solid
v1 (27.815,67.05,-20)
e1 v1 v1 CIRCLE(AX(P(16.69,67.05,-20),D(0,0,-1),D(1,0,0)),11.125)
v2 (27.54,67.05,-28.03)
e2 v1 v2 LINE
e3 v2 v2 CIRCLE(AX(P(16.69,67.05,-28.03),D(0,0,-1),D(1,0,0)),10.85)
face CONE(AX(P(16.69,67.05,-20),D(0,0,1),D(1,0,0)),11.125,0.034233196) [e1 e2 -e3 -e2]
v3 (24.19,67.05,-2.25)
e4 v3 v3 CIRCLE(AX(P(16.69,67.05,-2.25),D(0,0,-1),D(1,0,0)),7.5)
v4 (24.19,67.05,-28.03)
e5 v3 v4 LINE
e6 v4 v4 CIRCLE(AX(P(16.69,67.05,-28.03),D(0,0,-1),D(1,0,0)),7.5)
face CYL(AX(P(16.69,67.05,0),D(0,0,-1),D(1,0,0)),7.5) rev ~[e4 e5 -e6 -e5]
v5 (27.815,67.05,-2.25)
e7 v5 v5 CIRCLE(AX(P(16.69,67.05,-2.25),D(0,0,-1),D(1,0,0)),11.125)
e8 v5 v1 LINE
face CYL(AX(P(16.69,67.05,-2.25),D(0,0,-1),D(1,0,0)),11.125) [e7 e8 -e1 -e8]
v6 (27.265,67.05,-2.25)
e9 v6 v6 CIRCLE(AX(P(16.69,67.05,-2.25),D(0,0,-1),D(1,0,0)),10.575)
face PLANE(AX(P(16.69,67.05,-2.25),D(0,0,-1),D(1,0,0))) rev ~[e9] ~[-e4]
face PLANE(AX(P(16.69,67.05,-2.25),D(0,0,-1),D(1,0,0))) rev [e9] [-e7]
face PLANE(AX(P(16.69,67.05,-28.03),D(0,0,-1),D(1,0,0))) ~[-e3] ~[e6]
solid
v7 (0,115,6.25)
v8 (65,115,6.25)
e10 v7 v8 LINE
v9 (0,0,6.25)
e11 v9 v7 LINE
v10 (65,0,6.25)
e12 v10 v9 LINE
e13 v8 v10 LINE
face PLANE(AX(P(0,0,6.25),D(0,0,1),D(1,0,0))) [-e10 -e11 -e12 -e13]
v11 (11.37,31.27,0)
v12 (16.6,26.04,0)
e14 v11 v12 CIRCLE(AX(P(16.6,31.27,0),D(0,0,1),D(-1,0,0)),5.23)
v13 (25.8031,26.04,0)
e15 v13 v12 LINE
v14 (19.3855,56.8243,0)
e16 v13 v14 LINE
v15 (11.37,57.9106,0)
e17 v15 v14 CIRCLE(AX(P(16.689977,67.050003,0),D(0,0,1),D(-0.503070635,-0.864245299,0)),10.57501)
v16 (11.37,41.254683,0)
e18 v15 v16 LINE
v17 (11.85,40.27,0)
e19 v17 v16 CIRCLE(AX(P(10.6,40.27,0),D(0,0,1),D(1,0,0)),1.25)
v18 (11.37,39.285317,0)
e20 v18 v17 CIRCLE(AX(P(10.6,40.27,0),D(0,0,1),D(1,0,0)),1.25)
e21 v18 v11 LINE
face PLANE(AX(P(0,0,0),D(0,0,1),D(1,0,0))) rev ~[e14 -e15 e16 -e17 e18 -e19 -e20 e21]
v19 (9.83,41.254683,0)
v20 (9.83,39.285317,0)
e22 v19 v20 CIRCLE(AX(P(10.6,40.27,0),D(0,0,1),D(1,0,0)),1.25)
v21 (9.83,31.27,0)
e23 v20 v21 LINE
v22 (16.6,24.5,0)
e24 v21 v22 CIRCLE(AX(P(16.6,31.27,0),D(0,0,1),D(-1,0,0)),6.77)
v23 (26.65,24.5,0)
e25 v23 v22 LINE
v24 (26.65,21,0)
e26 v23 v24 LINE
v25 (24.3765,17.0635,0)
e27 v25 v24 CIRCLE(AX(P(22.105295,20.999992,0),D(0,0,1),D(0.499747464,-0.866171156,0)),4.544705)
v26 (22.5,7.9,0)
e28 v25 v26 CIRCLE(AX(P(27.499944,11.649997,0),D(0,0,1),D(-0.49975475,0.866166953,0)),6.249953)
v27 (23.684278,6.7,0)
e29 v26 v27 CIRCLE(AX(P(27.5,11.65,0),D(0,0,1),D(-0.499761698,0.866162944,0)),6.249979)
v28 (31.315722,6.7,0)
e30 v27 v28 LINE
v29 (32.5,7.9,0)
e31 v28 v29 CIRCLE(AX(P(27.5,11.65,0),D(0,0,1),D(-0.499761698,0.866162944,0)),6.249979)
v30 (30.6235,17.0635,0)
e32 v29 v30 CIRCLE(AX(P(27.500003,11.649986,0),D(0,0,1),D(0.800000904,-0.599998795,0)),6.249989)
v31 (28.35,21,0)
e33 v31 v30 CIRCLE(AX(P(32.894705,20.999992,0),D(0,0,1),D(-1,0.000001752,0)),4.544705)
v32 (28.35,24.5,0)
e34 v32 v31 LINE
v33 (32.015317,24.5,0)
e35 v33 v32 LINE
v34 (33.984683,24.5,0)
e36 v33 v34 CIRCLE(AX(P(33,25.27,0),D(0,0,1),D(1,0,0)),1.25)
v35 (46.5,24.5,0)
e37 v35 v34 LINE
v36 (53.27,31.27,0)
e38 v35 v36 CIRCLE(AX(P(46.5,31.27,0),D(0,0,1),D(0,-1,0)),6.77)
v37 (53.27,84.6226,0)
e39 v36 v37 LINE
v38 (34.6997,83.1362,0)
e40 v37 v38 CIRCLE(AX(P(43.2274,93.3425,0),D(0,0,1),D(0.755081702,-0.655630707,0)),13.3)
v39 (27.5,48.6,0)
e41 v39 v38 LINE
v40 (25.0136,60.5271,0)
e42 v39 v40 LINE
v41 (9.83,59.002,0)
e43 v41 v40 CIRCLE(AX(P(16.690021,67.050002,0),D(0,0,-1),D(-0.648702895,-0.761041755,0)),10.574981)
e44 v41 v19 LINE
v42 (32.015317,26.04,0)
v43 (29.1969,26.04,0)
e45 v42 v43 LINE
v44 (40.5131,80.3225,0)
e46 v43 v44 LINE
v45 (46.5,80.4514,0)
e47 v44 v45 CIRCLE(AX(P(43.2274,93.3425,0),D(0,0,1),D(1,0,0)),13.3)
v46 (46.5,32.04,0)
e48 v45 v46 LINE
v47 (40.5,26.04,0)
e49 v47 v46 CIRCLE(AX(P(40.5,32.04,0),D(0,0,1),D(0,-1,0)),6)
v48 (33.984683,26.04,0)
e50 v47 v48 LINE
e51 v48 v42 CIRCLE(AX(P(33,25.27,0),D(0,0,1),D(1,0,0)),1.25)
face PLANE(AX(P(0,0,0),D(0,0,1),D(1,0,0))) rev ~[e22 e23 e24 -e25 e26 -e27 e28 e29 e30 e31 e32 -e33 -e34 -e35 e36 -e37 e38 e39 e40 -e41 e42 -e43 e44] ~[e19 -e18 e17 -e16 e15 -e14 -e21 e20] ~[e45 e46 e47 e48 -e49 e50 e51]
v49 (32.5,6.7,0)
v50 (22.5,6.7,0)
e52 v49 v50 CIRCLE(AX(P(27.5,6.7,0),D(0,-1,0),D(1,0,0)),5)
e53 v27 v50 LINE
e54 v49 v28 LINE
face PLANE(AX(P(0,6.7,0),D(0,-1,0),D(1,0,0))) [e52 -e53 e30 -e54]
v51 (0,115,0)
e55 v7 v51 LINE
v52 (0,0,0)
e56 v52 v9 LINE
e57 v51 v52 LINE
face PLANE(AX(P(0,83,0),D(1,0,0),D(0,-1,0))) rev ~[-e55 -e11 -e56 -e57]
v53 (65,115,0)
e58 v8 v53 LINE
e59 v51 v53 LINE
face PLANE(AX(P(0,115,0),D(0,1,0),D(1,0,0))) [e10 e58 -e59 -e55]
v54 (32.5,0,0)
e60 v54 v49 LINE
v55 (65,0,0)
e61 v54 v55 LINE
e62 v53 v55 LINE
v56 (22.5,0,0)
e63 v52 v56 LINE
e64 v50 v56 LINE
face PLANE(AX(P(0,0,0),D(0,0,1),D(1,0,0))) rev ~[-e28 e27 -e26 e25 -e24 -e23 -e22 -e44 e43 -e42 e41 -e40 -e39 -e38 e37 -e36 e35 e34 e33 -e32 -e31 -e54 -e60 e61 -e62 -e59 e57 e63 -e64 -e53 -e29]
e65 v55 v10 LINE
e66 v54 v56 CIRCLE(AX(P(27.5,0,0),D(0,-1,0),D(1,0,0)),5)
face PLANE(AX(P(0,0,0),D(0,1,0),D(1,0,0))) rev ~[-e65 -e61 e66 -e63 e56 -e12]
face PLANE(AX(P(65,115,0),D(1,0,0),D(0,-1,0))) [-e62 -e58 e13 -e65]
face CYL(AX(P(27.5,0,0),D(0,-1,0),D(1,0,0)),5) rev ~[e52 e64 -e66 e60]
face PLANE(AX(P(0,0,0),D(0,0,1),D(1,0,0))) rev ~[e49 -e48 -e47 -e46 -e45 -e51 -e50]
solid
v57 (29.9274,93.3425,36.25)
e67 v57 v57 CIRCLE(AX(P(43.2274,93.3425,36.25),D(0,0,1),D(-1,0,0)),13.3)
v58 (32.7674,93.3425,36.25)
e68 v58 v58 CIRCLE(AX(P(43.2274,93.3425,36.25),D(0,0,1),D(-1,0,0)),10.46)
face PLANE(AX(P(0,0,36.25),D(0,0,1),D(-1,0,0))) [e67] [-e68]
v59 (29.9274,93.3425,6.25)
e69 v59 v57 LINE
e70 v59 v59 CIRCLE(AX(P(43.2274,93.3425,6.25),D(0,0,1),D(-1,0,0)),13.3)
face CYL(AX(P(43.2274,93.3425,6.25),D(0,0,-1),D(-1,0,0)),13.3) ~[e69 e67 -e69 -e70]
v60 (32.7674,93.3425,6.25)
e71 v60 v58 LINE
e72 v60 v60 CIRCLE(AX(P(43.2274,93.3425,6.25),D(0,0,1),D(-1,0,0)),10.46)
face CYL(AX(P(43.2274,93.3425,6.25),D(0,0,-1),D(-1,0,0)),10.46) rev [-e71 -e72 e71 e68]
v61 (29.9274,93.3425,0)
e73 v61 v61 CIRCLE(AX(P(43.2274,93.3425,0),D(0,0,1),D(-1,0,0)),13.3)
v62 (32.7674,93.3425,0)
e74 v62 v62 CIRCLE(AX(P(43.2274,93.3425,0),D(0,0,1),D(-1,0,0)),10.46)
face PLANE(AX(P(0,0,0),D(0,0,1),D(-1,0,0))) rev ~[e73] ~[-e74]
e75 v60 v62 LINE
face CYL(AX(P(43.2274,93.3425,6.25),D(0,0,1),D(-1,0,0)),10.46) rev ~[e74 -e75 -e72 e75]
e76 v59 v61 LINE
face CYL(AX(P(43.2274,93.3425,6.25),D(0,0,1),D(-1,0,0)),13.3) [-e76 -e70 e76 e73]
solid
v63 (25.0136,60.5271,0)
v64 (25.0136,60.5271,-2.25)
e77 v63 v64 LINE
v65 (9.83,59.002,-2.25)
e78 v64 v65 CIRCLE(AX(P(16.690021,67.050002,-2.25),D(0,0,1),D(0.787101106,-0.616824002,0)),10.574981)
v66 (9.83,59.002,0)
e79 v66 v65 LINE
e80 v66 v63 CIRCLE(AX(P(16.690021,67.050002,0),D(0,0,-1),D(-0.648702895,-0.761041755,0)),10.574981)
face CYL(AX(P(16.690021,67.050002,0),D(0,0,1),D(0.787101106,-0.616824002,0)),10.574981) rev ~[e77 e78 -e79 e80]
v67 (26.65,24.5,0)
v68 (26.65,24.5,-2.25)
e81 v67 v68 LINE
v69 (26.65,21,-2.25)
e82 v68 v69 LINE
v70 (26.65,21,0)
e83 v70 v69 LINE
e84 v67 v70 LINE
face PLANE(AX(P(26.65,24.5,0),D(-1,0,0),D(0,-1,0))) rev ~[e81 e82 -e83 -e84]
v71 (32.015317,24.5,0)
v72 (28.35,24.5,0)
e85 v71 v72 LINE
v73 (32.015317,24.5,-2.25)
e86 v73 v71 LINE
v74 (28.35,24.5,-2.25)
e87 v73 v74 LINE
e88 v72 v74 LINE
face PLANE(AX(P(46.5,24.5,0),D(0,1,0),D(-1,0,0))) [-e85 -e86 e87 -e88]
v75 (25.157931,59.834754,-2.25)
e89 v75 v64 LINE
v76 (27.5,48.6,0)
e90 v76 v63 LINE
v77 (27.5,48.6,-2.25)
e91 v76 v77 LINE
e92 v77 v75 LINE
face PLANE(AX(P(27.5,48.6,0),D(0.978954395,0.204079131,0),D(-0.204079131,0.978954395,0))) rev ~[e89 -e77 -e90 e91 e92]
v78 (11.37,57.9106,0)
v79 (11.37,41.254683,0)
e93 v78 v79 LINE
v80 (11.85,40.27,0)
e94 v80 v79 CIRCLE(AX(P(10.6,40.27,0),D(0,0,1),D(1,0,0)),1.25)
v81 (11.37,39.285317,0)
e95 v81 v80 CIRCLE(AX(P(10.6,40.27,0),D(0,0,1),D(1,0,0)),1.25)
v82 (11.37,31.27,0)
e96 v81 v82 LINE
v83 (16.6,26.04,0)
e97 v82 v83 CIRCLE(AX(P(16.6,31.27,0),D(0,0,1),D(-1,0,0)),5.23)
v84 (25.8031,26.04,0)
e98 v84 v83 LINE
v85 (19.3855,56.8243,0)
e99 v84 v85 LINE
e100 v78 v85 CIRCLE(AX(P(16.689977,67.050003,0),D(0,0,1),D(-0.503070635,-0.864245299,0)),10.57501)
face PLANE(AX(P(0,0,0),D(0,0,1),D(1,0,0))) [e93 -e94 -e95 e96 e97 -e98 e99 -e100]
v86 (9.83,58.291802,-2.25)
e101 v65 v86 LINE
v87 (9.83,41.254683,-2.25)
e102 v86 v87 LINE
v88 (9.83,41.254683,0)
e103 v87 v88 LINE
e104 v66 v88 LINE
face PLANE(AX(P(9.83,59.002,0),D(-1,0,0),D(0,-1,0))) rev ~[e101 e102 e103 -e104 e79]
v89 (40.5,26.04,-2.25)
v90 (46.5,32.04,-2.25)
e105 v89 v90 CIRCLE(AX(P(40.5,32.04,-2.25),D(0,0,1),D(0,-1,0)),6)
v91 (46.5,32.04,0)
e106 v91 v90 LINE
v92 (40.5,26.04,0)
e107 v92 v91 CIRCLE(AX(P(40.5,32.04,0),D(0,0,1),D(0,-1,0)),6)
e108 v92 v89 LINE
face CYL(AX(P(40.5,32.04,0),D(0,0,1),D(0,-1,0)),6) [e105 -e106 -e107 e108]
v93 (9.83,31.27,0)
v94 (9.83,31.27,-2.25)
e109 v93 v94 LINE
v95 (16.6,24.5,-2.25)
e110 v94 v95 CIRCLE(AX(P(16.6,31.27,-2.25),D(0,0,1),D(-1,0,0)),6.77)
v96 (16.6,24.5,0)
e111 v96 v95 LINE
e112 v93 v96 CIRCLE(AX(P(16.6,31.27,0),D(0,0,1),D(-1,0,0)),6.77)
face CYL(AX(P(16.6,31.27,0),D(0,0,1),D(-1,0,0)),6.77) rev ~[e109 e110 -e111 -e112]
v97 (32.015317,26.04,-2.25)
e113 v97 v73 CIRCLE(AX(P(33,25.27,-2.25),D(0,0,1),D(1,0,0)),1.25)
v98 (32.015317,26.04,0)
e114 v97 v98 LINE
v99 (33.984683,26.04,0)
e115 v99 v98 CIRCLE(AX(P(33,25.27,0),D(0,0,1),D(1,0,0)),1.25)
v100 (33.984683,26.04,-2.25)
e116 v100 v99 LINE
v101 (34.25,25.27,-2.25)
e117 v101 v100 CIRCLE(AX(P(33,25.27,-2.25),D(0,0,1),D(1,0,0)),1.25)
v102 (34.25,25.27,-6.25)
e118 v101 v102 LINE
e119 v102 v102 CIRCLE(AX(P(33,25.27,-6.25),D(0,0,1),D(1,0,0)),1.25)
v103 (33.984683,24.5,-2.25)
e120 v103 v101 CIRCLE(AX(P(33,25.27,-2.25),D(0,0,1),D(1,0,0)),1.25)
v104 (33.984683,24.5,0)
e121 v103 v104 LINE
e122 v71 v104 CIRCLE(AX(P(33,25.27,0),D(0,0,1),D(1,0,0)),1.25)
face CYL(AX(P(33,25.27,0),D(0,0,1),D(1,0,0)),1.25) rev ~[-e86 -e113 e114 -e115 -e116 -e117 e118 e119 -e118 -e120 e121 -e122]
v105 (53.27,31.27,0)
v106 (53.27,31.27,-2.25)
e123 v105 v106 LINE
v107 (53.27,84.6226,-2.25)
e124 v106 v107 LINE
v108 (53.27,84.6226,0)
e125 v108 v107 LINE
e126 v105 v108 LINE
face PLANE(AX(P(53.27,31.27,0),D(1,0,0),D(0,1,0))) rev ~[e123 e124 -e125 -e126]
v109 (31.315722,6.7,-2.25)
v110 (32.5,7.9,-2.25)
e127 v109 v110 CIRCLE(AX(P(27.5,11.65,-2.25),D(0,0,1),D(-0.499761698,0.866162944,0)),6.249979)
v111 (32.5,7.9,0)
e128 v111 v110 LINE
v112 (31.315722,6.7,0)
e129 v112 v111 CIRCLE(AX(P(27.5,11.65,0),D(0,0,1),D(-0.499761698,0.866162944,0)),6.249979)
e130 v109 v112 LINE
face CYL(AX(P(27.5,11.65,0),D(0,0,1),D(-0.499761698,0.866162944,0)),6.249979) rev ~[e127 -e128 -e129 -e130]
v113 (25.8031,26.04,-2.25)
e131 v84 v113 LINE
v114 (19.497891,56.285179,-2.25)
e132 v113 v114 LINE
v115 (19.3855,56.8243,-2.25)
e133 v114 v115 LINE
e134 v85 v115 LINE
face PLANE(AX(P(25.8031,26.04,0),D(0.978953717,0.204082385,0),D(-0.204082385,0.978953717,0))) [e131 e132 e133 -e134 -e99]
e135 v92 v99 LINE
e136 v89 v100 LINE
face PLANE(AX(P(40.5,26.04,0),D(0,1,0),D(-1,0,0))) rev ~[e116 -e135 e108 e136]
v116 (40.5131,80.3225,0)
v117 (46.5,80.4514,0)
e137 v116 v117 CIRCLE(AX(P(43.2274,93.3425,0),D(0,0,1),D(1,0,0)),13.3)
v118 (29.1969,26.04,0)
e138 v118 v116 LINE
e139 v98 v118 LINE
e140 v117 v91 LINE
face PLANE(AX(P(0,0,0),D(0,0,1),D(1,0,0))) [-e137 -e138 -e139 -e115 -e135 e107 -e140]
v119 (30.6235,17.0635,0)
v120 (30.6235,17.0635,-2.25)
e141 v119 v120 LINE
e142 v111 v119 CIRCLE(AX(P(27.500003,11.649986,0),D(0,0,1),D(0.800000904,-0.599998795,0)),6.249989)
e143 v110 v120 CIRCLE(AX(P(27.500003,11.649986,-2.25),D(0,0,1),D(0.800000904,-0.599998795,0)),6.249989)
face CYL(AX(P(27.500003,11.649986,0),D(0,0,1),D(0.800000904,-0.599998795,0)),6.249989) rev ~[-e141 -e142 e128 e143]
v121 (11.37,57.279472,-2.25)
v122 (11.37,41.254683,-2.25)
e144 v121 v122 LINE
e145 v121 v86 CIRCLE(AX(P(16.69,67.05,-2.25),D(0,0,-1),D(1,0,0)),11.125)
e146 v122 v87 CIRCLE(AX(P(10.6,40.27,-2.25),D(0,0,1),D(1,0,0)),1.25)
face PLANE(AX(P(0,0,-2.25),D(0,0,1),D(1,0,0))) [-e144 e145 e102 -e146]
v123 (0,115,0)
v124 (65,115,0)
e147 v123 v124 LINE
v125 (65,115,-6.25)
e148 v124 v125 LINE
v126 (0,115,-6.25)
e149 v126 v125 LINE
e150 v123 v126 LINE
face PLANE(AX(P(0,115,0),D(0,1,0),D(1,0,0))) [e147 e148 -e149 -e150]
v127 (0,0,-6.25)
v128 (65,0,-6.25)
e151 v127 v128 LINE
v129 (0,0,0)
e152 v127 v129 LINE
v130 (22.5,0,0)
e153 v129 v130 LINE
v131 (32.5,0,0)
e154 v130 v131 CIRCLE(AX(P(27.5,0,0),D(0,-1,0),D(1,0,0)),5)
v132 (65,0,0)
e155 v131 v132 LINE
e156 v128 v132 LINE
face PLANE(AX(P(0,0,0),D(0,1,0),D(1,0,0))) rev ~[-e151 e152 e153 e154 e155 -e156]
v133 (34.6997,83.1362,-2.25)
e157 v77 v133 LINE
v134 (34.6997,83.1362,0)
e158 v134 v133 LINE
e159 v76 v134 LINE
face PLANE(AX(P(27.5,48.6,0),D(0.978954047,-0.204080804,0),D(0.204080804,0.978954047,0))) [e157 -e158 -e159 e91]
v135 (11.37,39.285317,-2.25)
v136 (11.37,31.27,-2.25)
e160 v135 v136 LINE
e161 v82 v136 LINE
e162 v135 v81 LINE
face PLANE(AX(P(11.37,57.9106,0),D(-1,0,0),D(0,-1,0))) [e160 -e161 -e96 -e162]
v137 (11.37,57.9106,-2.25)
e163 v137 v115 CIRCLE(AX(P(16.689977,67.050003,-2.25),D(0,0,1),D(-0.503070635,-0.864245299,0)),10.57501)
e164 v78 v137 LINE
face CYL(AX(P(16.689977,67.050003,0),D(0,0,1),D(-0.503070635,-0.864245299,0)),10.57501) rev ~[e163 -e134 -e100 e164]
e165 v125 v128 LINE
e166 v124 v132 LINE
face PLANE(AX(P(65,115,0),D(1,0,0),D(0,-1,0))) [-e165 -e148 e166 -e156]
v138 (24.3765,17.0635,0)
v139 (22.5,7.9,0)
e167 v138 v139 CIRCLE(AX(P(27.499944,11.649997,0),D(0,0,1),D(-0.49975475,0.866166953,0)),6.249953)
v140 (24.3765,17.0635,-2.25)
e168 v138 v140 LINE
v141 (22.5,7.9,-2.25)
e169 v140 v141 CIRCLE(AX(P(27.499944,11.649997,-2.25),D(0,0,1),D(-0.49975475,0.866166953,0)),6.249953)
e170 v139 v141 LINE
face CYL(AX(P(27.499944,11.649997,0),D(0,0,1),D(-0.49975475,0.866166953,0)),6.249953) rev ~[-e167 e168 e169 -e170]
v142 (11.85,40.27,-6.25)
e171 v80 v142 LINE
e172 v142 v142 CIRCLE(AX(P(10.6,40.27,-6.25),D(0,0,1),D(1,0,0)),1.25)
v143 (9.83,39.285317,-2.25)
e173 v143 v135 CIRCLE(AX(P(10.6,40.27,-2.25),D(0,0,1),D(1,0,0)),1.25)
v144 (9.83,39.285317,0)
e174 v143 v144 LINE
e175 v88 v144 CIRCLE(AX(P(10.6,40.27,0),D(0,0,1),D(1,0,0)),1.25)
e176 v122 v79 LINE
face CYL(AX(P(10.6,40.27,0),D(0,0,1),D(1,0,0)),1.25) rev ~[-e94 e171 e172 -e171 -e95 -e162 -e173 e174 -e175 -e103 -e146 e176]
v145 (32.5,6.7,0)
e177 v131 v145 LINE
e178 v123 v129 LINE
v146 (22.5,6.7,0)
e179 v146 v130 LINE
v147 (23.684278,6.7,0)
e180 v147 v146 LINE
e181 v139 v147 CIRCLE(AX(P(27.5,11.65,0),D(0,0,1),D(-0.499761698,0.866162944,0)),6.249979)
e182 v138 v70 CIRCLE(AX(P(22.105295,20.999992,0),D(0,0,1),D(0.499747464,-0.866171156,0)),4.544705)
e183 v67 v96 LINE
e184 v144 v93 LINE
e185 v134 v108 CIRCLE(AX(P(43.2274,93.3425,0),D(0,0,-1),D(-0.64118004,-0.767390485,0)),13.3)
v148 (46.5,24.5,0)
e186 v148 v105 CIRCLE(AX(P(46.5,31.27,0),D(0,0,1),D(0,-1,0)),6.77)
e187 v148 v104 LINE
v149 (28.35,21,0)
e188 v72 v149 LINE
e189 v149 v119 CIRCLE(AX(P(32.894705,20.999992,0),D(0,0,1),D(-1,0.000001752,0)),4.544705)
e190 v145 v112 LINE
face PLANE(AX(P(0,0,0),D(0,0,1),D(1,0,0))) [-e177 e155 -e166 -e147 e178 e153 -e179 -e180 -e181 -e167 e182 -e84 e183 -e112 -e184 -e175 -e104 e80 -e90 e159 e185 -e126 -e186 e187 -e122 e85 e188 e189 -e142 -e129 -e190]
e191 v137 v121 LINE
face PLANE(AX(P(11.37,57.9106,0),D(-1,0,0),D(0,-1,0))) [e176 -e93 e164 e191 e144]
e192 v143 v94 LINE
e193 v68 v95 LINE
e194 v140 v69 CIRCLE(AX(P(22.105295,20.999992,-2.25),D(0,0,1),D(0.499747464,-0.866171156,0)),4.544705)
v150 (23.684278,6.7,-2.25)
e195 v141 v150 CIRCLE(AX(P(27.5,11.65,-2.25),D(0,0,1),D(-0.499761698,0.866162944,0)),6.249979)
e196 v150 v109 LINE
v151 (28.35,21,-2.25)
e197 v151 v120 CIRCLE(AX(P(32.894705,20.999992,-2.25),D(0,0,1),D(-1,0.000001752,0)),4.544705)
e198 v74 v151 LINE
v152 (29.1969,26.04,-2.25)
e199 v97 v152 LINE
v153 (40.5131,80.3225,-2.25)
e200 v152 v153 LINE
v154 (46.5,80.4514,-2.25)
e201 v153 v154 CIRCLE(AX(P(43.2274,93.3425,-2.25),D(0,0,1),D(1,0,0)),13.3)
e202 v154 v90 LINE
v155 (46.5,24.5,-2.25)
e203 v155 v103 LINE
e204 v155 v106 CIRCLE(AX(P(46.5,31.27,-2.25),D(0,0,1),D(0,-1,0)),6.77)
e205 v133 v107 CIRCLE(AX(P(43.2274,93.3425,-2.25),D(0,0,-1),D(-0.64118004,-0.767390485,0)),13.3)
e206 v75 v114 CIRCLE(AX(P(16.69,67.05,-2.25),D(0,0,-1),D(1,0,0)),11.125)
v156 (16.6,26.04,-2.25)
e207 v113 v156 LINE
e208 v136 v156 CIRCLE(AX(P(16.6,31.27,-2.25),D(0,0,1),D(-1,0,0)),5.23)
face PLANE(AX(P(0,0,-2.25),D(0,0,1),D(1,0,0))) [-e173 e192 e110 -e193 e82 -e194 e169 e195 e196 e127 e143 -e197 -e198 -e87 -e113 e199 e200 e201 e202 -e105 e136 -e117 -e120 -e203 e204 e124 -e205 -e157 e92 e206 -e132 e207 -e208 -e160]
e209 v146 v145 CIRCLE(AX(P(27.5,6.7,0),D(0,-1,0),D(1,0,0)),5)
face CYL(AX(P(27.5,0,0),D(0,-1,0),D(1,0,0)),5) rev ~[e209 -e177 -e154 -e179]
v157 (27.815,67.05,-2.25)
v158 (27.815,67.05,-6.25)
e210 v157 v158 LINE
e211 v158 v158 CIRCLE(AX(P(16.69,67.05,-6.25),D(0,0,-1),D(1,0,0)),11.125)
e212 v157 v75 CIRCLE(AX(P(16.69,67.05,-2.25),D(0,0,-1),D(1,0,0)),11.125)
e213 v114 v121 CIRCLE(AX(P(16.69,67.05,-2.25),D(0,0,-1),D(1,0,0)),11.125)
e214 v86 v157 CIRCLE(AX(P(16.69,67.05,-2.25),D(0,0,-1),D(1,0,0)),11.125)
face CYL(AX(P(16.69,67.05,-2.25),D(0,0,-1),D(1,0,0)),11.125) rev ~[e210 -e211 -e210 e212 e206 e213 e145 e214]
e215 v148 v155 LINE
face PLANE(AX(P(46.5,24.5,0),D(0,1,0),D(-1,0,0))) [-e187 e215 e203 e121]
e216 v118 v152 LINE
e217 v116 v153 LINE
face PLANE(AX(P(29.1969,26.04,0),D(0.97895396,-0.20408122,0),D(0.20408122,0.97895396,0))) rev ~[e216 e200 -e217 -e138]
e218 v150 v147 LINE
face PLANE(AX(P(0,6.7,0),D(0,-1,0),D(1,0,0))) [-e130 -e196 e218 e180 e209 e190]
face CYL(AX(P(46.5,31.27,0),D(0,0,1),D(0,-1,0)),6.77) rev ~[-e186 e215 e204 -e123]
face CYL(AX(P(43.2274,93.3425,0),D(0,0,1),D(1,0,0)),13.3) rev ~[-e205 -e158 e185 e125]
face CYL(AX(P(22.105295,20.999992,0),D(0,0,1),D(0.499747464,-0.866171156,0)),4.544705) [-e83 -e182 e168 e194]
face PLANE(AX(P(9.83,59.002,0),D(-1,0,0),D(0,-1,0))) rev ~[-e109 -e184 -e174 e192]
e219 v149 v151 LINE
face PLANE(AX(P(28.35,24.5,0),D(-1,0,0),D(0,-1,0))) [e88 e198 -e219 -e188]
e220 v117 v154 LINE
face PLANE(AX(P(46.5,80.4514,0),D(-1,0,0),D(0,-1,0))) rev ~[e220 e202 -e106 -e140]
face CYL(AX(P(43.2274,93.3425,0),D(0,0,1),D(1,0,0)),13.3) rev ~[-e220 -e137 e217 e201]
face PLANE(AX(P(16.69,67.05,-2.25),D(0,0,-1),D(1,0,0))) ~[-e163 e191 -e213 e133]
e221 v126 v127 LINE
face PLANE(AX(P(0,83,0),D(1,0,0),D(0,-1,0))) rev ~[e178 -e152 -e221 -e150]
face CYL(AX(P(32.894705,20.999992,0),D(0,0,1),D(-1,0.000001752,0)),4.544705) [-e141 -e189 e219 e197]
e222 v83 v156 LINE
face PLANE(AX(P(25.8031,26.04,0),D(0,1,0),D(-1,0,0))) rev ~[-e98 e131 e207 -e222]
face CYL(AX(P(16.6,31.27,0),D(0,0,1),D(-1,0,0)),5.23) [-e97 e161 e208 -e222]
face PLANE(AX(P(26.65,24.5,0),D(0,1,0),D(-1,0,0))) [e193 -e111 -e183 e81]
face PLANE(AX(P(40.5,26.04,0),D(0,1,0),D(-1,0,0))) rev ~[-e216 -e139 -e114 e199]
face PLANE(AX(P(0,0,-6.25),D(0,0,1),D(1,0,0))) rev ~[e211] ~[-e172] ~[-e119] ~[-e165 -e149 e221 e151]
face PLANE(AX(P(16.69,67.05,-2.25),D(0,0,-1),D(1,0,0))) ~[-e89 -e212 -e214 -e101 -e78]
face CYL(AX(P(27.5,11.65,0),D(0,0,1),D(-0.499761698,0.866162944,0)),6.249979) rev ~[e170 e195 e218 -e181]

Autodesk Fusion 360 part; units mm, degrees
sketch "Channels" plane through (0, 0, 0) normal (0, 0, 1) x (1, 0, 0)
  line L0 (0, 0) -> (46.5, 0)
  line L1 (46.5, 0) -> (46.5, 83) construction
  line L2 (46.5, 83) -> (0, 83) construction
  line L3 (0, 83) -> (0, 0)
  line L4 (27.5, -7) -> (27.5, 90) construction
  line L5 (10.6, 83) -> (10.6, 31.27) construction
  line L6 (46.5, 25.27) -> (16.6, 25.27) construction
  arc A0 (10.6, 31.27) -> (16.6, 25.27) centre (16.6, 31.27) ccw construction
  arc A1 (9.83, 31.27) -> (16.6, 24.5) centre (16.6, 31.27) ccw
  arc A2 (11.37, 31.27) -> (16.6, 26.04) centre (16.6, 31.27) ccw
  line L7 (27.5, 48.6) -> (34.6997, 83.1362)
  line L8 (27.5, 48.6) -> (46.5, 48.6) construction
  line L9 (27.5, 48.6) -> (25.0136, 60.5271)
  line L10 (25.8031, 26.04) -> (19.3855, 56.8243)
  line L11 (27.5, 17.9) -> (28.8759, 24.5) construction
  line L12 (29.1969, 26.04) -> (33.9, 48.6) construction
  line L13 (28.35, 24.5) -> (28.35, 21)
  line L14 (26.65, 24.5) -> (26.65, 21)
  arc A3 (28.35, 21) -> (30.6235, 17.0635) centre (32.8947, 21) ccw
  arc A4 (24.3765, 17.0635) -> (26.65, 21) centre (22.1053, 21) ccw
  line L15 (40.5, 26.04) -> (29.1969, 26.04)
  line L16 (25.8031, 26.04) -> (16.6, 26.04)
  line L17 (46.5, 24.5) -> (28.35, 24.5)
  line L18 (26.65, 24.5) -> (16.6, 24.5)
  line L19 (11.37, 57.9106) -> (11.37, 31.27)
  line L20 (9.83, 59.002) -> (9.83, 31.27)
  arc A5 (25.0136, 60.5271) -> (9.83, 59.002) centre (16.69, 67.05) ccw
  arc A6 (11.37, 57.9106) -> (19.3855, 56.8243) centre (16.69, 67.05) ccw
  circle A7 centre (16.69, 67.05) radius 7.5 construction
  line L21 (32.5, 0) -> (32.5, 7.9)
  line L22 (22.5, 0) -> (22.5, 7.9)
  arc A8 (24.3766, 17.0636) -> (22.5, 7.9) centre (27.5, 11.65) ccw
  arc A9 (22.5, 7.9) -> (27.5, 5.4) centre (27.5, 11.65) ccw construction
  arc A10 (27.5, 5.4) -> (32.5, 7.9) centre (27.5, 11.65) ccw construction
  arc A11 (32.5, 7.9) -> (30.6235, 17.0635) centre (27.5, 11.65) ccw
  line L23 (29.1969, 26.04) -> (40.5131, 80.3225)
  line L24 (40.5131, 80.3225) -> (44.213, 98.0704) construction
  line L25 (34.6997, 83.1362) -> (34.6713, 83) construction
  arc A12 (30.6235, 17.0635) -> (27.5, 17.9) centre (27.5, 11.65) ccw construction
  arc A13 (24.3765, 17.0635) -> (30.6235, 17.0635) centre (27.5, 11.65) ccw
  arc A14 (27.5, 17.9) -> (24.3765, 17.0635) centre (27.5, 11.65) ccw construction
  circle A15 centre (16.69, 67.05) radius 11.125 construction
  circle A16 centre (43.2274, 93.3425) radius 13.3
  line L26 (52.5, 83.8079) -> (52.5, 31.27) construction
  arc A17 (46.5, 25.27) -> (52.5, 31.27) centre (46.5, 31.27) ccw construction
  line L27 (53.27, 31.27) -> (53.27, 84.6226)
  arc A18 (46.5, 24.5) -> (53.27, 31.27) centre (46.5, 31.27) ccw
  line L28 (0, 83) -> (0, 115)
  line L29 (0, 115) -> (65, 115)
  line L30 (65, 115) -> (65, 0)
  line L31 (65, 0) -> (46.5, 0)
  line L32 (46.5, 80.4514) -> (46.5, 32.04)
  arc A19 (40.5, 26.04) -> (46.5, 32.04) centre (40.5, 32.04) ccw
  dimension "d1" = 83
  dimension "d2" = 46.5
  dimension "d6" = 6
  dimension "d7" = 10.6
  dimension "d8" = 25.27
  dimension "d11" = 12.5
  dimension "d12" = 12.85
  dimension "d13" = 34.4
  dimension "d14" = 12.6
  dimension "d16" = 3.3939
  dimension "d17" = 0.85
  dimension "d20" = 21.15
  dimension "d21" = 16.69
  dimension "d22" = 15.95
  dimension "d23" = 0.77
  dimension "d24" = 0.77
  dimension "d25" = 11.776
  dimension "d26" = 15
  dimension "d27" = 5
  dimension "d34" = 1.54
  dimension "d35" = 1.7
  dimension "d36" = 6.2653
  dimension "d38" = 3.5
  dimension "d65" = 22.25
  dimension "d78" = 26.6
  dimension "d81" = 27.5
  dimension "d82" = 6
  dimension "d84" = 0.77
  dimension "d87" = 115
  dimension "d94" = 6
sketch "Set screws" plane through (0, 0, 0) normal (0, 0, 1) x (1, 0, 0)
  line L0 (46.5, 25.27) -> (16.6, 25.27) construction
  line L1 (27.5, -7) -> (27.5, 90) construction
  arc A0 (10.6, 31.27) -> (16.6, 25.27) centre (16.6, 31.27) ccw construction
  line L2 (10.6, 83) -> (10.6, 31.27) construction
  circle A1 centre (33, 25.27) radius 1.25
  circle A2 centre (10.6, 40.27) radius 1.25
  dimension "d61" = 2.5
  dimension "d62" = 2.5
  dimension "d63" = 5.5
  dimension "d64" = 15
extrude "Extrude1" add sketch "Channels" along normal blind 6.25 and the other way blind 6.25 contours L0 L3 A1 L7 L9 L13 L14 A3 A4 L17 L18 L20 A5 L21 L22 A8 A11 A13 A16 L27 A18 L28 L29 L30 L31 | L0 L21 L22 A13 | A1 L7 L9 L13 L14 A3 A4 L15 L17 L18 L20 A5 A8 A11 L23 A13 A16 L27 A18 L32 A19 | A16 | L15 L23 A16 L32 A19 | A2 L10 L16 L19 A6 makes body 1
extrude "Extrude2" cut sketch "Channels" against normal blind 2.25 contours A1 L7 L9 L13 L14 A3 A4 L15 L17 L18 L20 A5 A8 A11 L23 A13 A16 L27 A18 L32 A19 | A16 bodies 1
extrude "Extrude9" cut sketch "Set screws" against normal through all bodies 1
ref_plane "WorkPlane1" through (0, 67.05, 0) normal (0, 1, 0) x (0, 0, 1)
sketch "Outlet" plane through (0, 67.05, 0) normal (0, 1, 0) x (1, 0, 0)
  line L0 (27.265, 0) -> (27.265, 2.25)
  line L1 (27.265, 2.25) -> (27.815, 2.25)
  line L2 (27.815, 2.25) -> (27.815, 20)
  line L3 (27.815, 20) -> (27.54, 28.03)
  line L4 (24.19, 0) -> (24.19, 28.03)
  line L5 (24.19, 28.03) -> (27.54, 28.03)
  line L6 (27.265, 2.25) -> (24.19, 2.25)
  line L7 (27.265, 0) -> (24.19, 0)
  line L8 (16.69, 0) -> (16.69, 56) construction
  line L9 (24.19, 0) -> (16.69, 0)
  line L10 (24.19, 28.03) -> (16.69, 28)
  line L11 (16.69, 0) -> (16.69, 28)
  point P0 (9.19, 0)
  point P1 (24.19, 0)
  point P2 (27.265, 0)
  point P3 (6.115, 0)
  point P4 (5.565, 0)
  point P5 (27.815, 0)
  point P6 (16.69, 0)
  dimension "d67" = 17.75
  dimension "d68" = 25.78
  dimension "d69" = 7.5
  dimension "d70" = 11.125
  dimension "d71" = 2.25
  dimension "d74" = 10.85
revolve "Revolve1" cut sketch "Outlet" angle 360 about axis through (16.69, 67.05, 0) along (0, 0, -1) bodies 1
revolve "Revolve2" add sketch "Outlet" angle 360 about axis through (16.69, 67.05, 0) along (0, 0, -1) separate body contours L1 L2 L3 L4 L5 L6 makes body 2
sketch "Inlet" plane through (0, 0, 0) normal (0, -1, 0) x (1, 0, 0)
  line L0 (65, 6.25) -> (0, 6.25)
  line L1 (0, 6.25) -> (0, -6.25)
  line L2 (0, -6.25) -> (65, -6.25)
  circle A0 centre (27.5, 0) radius 5
  line L3 (65, -6.25) -> (65, 6.25)
  point P0 (27.5, 0)
  point P1 (22.5, 0)
extrude "Extrude5" cut sketch "Inlet" against normal blind 6.7 contours A0 bodies 1
split "Split1" by plane through (0, 0, 0) normal (0, 0, 1) bodies 1 makes body 3 at (21.6667, 76.6667, 6.25)
sketch "Sketch7" plane through (0, 0, 6.25) normal (0, 0, 1) x (-1, 0, 0)
  line L0 (0, -115) -> (0, 0)
  line L1 (0, 0) -> (-65, 0)
  line L2 (-65, 0) -> (-65, -115)
  line L3 (-65, -115) -> (0, -115)
  circle A0 centre (-43.2274, -93.3425) radius 13.3 construction
  circle A1 centre (-43.2274, -93.3425) radius 10.46
  circle A2 centre (-43.2274, -93.3425) radius 13.3
  dimension "d85" = 20.92
  dimension "d95" = 26.6
extrude "Extrude10" cut sketch "Sketch7" against normal up to surface (6.25 mm away) contours A1 | A2 bodies 1
extrude "Extrude11" add sketch "Sketch7" along normal blind 30 and the other way up to surface (6.25 mm away) separate body contours A2 makes body 4
thread "Thread1"
equation "d12 = ( 12.5 / 2 ) * 1 mm + 6.60 mm"
equation "d74 = ( 21.7 / 2 ) * 1 mm"
